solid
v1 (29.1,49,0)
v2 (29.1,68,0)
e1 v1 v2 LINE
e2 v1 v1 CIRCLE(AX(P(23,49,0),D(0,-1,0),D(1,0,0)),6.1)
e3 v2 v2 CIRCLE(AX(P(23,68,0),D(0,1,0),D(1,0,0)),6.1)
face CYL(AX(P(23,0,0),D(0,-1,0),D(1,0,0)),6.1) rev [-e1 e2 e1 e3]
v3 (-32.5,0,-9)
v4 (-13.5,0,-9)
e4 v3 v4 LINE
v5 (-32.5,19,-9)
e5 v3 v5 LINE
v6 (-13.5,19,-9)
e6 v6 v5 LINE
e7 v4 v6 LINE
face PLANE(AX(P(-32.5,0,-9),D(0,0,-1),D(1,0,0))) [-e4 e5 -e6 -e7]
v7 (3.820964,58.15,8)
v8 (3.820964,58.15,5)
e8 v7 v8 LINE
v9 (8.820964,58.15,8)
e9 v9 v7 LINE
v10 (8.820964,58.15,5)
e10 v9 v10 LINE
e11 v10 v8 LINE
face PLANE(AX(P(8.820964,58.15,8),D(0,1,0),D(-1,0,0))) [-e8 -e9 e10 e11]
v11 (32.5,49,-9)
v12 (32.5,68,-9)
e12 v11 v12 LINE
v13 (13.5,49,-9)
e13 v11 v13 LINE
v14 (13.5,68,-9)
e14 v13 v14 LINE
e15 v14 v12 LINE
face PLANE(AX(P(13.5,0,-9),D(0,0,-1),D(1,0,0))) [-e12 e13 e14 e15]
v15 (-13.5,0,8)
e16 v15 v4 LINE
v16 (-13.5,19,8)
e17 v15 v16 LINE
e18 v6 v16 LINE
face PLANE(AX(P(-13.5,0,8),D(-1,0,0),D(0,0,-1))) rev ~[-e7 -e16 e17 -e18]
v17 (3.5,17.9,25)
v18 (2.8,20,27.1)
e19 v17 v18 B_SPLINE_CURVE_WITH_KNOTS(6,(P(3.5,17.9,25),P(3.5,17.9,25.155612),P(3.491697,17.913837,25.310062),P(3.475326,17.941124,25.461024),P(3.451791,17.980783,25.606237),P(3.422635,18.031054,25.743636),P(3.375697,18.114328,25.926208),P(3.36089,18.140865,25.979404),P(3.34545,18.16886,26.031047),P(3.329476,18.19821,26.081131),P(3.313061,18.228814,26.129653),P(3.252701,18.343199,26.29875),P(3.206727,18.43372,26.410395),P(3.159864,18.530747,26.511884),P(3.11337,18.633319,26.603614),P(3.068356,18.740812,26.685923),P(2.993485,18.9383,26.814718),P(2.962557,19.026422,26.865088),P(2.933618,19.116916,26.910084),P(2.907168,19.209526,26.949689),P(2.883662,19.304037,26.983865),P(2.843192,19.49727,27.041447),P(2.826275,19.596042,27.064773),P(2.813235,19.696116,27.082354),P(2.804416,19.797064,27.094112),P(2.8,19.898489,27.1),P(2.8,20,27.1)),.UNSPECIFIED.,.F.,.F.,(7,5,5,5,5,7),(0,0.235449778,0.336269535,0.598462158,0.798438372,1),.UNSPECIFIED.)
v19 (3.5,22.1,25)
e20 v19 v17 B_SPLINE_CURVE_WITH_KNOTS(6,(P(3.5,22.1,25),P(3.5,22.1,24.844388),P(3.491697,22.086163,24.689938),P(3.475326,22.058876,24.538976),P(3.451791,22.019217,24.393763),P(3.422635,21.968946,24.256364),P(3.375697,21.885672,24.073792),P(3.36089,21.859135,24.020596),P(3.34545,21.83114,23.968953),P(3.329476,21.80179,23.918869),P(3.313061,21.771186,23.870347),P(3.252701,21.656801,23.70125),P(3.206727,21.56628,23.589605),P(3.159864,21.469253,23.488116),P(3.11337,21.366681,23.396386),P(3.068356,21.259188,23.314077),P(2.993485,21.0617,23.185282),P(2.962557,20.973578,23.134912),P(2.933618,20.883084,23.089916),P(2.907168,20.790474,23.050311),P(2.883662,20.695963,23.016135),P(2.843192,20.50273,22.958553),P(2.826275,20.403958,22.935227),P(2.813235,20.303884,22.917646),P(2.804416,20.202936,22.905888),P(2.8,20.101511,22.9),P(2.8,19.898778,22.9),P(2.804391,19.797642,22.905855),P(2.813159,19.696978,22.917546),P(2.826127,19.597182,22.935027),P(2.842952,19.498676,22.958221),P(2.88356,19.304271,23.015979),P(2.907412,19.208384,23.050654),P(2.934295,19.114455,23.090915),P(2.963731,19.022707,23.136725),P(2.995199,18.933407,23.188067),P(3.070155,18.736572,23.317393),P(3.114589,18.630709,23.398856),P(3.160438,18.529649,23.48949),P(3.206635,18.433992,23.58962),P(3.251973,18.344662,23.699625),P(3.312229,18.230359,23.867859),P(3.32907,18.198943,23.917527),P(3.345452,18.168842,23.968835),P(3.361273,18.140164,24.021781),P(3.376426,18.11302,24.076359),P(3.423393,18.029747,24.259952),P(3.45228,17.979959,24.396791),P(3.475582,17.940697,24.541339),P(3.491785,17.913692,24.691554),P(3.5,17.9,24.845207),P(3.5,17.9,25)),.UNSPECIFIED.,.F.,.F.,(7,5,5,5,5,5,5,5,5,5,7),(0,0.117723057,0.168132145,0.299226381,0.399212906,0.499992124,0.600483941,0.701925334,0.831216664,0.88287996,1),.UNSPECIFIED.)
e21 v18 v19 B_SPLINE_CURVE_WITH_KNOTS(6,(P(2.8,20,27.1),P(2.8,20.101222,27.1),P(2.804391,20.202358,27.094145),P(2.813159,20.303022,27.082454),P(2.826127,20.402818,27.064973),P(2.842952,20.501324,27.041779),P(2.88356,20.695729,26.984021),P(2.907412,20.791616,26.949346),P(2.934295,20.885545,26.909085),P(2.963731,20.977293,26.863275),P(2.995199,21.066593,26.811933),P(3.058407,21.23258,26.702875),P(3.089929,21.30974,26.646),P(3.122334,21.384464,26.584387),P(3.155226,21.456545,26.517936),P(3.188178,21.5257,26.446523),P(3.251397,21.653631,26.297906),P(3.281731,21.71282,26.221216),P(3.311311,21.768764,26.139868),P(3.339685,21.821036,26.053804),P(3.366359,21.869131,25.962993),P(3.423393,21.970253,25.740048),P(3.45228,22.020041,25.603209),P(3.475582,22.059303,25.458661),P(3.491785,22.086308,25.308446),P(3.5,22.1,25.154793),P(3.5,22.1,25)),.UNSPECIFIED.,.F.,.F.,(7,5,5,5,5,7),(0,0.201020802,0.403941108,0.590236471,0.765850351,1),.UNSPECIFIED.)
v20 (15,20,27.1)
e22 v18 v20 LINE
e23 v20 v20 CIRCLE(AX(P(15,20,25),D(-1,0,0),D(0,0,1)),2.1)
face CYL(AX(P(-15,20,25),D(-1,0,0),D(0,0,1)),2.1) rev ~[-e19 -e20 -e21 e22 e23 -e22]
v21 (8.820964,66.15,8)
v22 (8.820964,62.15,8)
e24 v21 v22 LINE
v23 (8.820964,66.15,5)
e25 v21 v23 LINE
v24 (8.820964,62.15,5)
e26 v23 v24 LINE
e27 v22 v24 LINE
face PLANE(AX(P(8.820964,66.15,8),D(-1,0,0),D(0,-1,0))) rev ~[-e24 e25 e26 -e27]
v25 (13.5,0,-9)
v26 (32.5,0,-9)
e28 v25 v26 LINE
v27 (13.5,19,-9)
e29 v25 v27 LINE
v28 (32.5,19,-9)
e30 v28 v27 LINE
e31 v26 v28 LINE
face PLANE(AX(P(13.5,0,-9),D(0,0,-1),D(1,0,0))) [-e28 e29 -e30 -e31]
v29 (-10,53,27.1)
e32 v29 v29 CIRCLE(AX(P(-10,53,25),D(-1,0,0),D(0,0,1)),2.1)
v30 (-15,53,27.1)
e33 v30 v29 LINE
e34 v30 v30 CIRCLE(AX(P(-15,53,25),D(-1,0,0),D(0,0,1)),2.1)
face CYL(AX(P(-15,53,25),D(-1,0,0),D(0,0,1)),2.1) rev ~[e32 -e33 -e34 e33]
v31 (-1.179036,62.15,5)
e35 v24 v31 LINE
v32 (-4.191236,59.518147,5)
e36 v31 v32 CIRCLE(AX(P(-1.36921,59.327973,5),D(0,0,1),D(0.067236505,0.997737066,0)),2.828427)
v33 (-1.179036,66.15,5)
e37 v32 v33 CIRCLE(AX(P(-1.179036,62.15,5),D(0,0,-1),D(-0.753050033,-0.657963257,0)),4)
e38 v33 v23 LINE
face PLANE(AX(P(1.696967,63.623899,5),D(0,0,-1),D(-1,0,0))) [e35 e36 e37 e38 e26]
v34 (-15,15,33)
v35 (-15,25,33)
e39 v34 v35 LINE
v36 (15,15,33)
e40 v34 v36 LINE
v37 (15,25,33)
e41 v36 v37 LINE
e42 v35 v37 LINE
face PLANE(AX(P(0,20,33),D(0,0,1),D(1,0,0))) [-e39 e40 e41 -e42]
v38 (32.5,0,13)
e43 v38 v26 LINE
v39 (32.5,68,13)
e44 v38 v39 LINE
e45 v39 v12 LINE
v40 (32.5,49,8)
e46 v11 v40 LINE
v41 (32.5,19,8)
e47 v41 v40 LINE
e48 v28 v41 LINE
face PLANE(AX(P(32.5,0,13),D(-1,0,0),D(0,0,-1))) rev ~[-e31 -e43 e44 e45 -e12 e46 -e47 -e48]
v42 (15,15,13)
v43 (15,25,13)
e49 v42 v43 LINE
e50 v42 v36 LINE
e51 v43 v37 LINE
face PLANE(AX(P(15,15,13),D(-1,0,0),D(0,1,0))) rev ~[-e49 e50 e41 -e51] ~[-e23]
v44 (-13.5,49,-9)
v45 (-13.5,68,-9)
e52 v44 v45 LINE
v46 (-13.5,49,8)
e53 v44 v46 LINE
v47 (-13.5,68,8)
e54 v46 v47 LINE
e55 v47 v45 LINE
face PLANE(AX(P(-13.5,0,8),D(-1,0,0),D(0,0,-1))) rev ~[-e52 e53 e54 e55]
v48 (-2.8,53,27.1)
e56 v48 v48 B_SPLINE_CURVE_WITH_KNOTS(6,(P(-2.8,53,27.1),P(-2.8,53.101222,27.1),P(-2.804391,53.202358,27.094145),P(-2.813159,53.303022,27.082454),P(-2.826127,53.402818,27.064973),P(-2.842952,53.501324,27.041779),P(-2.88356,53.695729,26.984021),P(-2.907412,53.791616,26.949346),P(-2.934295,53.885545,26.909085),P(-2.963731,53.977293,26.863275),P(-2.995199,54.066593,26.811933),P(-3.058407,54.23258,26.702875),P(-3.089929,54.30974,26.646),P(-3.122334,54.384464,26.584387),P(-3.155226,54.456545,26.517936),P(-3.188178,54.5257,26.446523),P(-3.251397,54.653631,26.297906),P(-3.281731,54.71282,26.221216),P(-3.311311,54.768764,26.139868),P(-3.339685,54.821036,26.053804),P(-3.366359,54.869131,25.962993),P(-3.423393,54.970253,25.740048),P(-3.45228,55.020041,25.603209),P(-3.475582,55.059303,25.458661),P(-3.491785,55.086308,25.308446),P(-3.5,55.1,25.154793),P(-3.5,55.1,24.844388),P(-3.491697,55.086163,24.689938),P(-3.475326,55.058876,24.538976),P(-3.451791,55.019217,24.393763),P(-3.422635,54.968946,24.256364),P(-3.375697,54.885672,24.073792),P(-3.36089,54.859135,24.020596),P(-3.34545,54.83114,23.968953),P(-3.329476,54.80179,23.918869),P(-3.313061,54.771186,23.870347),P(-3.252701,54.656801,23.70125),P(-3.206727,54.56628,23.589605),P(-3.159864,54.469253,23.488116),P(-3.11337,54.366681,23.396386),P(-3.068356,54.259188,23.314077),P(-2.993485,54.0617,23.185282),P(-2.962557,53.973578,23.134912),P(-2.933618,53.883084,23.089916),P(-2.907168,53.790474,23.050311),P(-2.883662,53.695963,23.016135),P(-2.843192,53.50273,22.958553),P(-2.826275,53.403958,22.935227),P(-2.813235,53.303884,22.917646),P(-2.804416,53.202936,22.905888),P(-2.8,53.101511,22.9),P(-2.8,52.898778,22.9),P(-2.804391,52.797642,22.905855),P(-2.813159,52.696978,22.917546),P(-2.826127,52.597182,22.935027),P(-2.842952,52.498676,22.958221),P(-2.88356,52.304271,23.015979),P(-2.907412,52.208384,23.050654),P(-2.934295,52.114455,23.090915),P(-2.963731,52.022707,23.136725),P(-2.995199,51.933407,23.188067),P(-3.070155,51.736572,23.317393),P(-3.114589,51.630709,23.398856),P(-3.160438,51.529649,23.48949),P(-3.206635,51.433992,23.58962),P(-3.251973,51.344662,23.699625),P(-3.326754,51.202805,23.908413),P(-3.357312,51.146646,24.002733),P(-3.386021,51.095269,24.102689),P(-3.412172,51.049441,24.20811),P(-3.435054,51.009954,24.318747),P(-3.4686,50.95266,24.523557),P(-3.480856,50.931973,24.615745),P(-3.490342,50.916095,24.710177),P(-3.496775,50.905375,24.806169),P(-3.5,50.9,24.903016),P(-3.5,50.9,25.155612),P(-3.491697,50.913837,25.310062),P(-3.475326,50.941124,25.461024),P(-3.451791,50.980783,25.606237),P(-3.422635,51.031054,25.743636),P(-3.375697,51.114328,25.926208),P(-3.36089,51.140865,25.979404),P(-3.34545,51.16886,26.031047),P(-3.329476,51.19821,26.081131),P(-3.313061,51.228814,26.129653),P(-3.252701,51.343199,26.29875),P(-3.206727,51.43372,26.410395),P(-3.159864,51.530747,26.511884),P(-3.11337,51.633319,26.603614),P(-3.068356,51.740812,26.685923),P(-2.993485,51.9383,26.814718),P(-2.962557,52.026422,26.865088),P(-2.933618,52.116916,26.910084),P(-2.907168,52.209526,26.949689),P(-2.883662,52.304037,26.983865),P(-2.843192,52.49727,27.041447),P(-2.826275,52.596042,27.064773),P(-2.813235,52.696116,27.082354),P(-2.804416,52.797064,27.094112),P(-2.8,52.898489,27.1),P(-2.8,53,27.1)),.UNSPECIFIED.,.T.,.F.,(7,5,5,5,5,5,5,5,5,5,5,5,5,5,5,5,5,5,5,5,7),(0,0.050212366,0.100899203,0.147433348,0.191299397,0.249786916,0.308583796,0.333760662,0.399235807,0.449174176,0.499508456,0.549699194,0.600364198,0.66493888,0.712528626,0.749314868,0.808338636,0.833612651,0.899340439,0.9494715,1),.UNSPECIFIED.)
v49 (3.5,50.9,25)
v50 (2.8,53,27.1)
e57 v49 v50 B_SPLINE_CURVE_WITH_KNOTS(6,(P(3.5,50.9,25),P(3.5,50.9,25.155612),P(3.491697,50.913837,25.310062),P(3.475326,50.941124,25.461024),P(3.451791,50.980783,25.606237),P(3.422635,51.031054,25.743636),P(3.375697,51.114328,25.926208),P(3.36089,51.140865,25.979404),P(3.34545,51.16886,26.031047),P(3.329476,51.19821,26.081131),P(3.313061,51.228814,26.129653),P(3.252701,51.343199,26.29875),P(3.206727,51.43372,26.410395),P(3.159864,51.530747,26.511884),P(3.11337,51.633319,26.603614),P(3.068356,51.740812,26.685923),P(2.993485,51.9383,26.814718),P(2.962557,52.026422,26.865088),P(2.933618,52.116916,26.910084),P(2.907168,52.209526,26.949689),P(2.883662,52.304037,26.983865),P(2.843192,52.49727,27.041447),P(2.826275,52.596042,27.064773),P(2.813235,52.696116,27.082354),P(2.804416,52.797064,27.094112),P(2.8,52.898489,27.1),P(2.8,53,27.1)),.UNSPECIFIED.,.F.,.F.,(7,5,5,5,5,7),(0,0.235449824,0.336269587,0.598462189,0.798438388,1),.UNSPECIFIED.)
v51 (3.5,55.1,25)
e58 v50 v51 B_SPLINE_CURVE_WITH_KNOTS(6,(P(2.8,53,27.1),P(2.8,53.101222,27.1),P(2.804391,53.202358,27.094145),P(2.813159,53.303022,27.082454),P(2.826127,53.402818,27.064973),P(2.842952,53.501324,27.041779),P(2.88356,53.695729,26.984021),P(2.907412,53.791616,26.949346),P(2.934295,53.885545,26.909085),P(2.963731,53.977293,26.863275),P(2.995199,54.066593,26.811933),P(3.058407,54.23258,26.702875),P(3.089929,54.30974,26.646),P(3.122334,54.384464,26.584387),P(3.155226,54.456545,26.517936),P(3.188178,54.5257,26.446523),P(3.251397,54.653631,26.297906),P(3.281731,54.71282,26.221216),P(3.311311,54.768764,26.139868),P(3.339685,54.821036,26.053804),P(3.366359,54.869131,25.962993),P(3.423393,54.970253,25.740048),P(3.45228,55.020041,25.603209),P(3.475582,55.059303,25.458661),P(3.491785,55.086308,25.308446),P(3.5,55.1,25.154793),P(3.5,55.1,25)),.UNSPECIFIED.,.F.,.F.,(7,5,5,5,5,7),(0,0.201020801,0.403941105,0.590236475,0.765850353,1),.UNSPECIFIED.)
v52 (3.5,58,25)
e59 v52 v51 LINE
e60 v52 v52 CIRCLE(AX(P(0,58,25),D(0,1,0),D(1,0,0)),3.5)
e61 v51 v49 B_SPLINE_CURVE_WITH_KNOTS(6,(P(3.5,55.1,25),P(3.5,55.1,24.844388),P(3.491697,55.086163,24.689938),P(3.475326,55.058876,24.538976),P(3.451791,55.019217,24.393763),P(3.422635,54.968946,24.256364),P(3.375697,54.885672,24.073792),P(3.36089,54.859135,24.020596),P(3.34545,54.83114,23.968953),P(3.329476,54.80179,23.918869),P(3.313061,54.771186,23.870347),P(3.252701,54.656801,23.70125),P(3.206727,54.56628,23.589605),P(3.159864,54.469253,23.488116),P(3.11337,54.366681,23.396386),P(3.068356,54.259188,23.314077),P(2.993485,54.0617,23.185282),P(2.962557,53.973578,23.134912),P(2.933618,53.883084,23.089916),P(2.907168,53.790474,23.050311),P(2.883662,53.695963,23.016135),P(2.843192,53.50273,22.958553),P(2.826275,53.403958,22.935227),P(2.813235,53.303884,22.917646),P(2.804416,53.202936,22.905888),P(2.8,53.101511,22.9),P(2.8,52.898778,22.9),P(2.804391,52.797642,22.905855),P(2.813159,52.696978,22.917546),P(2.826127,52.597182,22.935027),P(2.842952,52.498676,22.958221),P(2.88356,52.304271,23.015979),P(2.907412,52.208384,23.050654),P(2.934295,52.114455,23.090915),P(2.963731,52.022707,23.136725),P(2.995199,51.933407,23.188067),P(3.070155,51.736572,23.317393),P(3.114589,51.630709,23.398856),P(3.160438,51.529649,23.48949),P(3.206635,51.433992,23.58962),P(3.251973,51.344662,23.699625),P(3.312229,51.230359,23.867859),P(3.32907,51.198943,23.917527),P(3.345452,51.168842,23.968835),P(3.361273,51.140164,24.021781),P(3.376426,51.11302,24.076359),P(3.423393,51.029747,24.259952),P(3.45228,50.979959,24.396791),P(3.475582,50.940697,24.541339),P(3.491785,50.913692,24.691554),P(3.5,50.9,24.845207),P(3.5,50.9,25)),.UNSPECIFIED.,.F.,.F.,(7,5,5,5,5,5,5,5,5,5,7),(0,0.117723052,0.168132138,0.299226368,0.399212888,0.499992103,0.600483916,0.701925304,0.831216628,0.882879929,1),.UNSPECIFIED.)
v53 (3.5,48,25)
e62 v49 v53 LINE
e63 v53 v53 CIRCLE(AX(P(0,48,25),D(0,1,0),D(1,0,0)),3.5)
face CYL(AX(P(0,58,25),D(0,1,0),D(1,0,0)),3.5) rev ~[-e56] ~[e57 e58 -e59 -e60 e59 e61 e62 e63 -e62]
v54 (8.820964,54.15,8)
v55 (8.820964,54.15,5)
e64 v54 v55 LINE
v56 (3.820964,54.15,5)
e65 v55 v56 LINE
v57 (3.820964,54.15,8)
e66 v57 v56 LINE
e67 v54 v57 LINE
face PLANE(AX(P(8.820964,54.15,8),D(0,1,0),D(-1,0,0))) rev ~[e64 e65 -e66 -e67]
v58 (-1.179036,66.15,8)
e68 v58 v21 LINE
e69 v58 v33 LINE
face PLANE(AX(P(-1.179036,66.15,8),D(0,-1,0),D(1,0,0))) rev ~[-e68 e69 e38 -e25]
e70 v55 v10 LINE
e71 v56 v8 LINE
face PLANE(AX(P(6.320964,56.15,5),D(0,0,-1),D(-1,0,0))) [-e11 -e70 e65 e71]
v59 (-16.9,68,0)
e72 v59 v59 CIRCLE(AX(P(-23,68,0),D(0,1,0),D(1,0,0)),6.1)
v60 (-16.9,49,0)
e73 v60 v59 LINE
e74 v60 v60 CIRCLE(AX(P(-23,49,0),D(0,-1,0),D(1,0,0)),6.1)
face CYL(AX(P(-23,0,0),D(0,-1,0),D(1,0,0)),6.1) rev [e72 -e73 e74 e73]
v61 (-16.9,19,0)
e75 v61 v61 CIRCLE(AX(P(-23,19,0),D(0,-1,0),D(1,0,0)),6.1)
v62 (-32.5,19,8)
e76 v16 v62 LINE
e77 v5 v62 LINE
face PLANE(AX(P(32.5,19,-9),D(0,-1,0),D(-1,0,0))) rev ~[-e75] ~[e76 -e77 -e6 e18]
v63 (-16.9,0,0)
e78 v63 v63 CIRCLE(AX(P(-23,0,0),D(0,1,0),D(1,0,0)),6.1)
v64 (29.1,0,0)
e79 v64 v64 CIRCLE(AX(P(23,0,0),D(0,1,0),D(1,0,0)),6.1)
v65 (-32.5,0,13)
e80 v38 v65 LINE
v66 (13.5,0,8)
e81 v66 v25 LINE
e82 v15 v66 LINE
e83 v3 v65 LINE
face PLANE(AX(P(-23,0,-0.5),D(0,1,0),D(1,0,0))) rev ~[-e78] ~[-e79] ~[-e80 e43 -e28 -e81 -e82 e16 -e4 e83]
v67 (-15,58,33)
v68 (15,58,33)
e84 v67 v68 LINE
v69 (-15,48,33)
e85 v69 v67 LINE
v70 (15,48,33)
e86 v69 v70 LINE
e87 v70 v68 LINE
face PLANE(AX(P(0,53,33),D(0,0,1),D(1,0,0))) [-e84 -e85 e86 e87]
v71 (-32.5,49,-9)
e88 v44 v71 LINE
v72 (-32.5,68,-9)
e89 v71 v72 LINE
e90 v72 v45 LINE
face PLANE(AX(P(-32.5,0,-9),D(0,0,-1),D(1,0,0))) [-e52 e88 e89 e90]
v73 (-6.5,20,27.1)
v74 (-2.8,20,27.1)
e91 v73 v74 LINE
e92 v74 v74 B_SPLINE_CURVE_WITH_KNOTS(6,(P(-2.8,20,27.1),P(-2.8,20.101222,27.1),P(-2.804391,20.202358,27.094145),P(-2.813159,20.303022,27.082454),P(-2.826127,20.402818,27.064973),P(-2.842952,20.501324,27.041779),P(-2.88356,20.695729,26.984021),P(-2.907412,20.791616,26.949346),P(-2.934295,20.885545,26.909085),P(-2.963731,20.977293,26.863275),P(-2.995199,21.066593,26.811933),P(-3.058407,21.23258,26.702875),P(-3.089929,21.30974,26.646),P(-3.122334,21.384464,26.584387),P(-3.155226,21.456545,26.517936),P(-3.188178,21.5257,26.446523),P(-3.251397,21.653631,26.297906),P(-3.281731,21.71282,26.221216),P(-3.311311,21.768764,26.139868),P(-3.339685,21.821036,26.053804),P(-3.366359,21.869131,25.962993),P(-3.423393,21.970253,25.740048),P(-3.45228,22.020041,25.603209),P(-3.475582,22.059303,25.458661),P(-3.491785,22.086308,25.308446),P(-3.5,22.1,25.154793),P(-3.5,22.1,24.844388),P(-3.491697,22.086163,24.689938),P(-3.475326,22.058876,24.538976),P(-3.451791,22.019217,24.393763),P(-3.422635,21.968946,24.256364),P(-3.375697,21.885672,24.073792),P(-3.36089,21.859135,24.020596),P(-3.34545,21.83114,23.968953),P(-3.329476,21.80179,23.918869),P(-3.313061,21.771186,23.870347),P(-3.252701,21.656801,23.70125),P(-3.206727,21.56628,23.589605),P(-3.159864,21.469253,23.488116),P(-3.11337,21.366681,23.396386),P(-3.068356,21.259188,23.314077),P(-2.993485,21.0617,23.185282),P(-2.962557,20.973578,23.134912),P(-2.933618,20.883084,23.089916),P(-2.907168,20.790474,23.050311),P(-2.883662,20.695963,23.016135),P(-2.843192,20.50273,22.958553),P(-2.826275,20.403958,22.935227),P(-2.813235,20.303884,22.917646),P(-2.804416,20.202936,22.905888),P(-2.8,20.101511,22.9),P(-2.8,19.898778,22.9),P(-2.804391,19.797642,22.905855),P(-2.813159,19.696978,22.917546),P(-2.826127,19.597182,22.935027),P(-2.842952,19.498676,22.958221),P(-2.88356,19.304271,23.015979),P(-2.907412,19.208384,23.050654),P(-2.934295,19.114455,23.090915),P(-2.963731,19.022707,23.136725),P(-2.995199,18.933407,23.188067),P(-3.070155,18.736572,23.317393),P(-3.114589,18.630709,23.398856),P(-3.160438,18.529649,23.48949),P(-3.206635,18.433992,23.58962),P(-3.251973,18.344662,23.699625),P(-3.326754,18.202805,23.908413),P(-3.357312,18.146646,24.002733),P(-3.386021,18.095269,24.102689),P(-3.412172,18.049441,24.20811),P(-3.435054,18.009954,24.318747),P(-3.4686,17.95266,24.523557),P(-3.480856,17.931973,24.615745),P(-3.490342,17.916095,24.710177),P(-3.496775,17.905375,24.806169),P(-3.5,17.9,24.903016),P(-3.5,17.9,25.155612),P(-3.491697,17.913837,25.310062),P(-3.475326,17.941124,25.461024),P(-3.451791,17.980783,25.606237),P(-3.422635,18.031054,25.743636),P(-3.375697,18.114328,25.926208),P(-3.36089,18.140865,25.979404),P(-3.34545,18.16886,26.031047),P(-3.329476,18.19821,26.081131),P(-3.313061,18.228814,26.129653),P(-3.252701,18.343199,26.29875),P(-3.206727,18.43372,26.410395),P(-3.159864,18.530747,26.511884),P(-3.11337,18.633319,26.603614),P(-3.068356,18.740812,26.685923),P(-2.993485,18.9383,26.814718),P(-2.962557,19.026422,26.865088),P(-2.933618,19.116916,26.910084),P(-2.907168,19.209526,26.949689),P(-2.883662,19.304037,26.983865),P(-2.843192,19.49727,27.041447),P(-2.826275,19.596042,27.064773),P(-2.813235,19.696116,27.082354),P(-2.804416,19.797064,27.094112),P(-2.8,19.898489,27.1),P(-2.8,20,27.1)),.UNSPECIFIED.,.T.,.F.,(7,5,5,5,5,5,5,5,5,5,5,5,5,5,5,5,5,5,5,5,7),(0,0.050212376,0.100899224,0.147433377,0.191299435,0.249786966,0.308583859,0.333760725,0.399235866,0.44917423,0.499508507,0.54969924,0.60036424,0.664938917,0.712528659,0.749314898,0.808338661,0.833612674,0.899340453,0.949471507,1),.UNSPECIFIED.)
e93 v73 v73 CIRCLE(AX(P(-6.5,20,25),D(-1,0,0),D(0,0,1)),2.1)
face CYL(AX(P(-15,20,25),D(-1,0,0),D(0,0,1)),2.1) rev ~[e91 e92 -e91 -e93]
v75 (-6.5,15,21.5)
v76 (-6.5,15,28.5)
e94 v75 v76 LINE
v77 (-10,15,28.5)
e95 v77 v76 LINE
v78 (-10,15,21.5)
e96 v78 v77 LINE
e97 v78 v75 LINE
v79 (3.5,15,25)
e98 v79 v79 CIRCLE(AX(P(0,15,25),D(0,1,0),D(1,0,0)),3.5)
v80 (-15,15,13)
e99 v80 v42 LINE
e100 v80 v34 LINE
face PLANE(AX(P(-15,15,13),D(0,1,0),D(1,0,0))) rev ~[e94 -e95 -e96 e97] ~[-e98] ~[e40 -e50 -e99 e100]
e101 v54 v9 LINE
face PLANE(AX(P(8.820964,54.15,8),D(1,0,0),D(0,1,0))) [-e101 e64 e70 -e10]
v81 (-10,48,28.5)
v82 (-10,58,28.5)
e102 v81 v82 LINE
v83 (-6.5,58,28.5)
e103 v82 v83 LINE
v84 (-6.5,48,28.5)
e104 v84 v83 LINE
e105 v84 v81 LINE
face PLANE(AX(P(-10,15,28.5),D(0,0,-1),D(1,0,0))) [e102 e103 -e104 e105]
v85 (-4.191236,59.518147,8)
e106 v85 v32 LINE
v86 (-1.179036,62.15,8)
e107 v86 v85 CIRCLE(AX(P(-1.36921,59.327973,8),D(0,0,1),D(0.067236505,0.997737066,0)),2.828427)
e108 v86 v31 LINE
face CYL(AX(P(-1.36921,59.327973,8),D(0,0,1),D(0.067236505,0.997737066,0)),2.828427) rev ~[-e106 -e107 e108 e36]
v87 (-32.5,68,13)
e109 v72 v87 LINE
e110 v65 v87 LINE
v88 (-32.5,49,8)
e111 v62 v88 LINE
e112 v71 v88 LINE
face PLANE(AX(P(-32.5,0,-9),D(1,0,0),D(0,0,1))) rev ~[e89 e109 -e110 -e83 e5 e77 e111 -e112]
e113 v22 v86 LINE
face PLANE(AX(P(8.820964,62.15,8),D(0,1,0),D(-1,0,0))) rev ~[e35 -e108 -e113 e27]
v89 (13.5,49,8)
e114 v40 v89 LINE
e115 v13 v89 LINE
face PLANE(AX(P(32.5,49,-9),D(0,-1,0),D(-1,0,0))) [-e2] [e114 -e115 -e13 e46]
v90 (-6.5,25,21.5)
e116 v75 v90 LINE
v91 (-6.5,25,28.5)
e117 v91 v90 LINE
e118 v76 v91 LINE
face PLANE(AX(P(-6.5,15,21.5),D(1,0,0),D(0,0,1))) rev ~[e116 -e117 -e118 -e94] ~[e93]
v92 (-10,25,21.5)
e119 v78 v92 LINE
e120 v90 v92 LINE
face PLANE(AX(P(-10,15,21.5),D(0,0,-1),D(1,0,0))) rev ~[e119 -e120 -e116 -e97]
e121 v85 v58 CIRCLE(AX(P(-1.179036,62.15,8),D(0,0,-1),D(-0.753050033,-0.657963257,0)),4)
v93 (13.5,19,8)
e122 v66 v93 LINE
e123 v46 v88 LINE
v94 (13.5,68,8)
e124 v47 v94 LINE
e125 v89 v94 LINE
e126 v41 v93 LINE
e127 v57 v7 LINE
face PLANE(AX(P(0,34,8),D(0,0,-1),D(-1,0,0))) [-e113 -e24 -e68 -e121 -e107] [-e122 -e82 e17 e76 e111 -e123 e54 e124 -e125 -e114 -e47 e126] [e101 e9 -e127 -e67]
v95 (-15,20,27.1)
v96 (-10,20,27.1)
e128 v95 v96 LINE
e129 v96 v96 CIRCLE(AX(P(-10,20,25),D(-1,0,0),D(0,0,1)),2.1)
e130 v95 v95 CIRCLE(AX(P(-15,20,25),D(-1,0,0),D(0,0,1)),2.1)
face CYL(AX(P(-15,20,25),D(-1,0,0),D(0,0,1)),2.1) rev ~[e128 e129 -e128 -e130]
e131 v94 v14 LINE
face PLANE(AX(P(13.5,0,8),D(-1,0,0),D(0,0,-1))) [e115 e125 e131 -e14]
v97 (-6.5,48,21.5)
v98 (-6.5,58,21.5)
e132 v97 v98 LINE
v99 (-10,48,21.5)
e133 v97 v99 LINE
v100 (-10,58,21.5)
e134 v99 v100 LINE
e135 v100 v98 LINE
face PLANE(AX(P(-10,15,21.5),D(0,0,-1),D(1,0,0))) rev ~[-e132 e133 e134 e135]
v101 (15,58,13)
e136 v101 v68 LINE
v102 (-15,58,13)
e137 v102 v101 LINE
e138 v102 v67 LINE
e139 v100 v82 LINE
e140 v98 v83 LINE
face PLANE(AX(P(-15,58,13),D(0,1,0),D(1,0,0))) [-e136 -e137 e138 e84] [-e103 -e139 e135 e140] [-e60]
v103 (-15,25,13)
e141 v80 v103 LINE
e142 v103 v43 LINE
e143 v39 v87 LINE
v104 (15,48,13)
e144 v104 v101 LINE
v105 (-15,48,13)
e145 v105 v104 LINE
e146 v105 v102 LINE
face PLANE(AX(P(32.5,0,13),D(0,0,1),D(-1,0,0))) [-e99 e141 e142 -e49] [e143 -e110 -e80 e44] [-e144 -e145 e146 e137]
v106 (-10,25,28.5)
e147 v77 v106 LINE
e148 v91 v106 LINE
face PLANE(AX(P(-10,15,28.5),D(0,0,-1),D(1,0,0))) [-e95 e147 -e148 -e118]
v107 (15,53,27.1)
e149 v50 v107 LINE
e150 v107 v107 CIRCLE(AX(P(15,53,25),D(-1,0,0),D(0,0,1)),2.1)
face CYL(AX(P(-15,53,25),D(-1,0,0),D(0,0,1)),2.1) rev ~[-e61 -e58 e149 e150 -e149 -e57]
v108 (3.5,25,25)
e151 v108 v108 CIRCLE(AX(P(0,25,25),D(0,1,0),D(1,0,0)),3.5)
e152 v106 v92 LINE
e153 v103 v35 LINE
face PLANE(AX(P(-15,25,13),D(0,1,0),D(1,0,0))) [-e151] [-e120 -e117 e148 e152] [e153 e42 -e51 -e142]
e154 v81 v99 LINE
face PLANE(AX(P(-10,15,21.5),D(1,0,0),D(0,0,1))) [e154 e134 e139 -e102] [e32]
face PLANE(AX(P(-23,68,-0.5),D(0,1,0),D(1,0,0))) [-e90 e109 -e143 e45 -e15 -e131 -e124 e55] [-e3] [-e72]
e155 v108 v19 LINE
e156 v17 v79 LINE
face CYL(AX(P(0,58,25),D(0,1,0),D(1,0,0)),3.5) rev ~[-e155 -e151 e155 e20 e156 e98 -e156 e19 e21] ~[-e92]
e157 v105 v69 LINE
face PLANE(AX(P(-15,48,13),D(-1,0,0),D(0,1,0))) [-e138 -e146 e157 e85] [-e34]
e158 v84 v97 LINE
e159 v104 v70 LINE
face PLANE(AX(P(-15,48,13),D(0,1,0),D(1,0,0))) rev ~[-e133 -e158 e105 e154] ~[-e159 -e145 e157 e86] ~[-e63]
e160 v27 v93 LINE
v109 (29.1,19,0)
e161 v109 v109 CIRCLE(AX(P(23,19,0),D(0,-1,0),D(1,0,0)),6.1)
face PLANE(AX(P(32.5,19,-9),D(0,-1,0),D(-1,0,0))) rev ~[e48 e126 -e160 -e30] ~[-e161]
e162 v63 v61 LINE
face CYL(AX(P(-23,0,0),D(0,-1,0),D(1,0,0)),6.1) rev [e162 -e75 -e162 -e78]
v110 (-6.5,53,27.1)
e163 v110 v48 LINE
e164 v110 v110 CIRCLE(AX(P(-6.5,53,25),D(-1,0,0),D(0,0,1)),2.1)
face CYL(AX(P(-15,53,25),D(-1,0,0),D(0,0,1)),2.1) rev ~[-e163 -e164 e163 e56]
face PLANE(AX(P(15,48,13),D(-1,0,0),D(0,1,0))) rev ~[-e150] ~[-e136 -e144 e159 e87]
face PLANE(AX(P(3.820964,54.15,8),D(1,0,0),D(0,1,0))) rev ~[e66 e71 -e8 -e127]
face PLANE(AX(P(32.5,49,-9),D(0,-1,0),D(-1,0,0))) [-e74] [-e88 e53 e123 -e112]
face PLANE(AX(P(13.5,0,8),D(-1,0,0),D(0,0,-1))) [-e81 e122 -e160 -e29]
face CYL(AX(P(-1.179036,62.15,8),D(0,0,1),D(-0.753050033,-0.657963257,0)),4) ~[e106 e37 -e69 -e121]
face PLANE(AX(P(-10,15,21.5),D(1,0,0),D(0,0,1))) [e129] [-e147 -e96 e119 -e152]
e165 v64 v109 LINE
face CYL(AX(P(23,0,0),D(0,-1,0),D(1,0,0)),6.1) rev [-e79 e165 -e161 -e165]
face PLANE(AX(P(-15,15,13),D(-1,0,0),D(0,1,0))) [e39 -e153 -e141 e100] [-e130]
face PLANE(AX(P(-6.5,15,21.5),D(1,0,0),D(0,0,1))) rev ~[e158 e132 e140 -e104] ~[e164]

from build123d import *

# Parameters (mm, degrees)
SKETCH1_W           = 19
SKETCH1_H           = 17
SKETCH1_R           = 6.1
BOSS_EXTRUDE1_DEPTH = 68
SKETCH3_W           = 65
SKETCH3_H           = 30
CUT_EXTRUDE1_DEPTH  = 17
SKETCH4_W           = 5
SKETCH4_H           = 4
BOSS_EXTRUDE2_DEPTH = 3
SKETCH5_W           = 30
SKETCH5_H           = 10
BOSS_EXTRUDE3_DEPTH = 20
SKETCH6_R           = 3.5
CUT_EXTRUDE2_DEPTH  = 59
SKETCH8_R           = 2.1
CUT_EXTRUDE3_DEPTH  = 48.5
SKETCH9_W           = 3.5
SKETCH9_H           = 7
CUT_EXTRUDE4_DEPTH  = 43


with BuildPart() as part:
    # Sketch1 → Boss-Extrude1 (new body)
    with BuildSketch(Plane(origin=(0, 0, 0), x_dir=(1, 0, 0), z_dir=(0, 1, 0))):
        with Locations((-23, 0.5)):
            Rectangle(SKETCH1_W, SKETCH1_H)
        with Locations((-23, 0)):
            Circle(SKETCH1_R, mode=Mode.SUBTRACT)
        with Locations((23, 0.5)):
            Rectangle(SKETCH1_W, SKETCH1_H)
        with Locations((23, 0)):
            Circle(SKETCH1_R, mode=Mode.SUBTRACT)
        Polygon((-13.5, -8), (13.5, -8), (32.5, -8), (32.5, -13), (-32.5, -13), (-32.5, -8), align=None)
    extrude(amount=BOSS_EXTRUDE1_DEPTH)

    # Sketch3 → Cut-Extrude1 (cut)
    with BuildSketch(Plane(origin=(0, 0, -9), x_dir=(-1, 0, 0), z_dir=(0, 0, -1))):
        with Locations((0, 34)):
            Rectangle(SKETCH3_W, SKETCH3_H)
    extrude(amount=-CUT_EXTRUDE1_DEPTH, mode=Mode.SUBTRACT)

    # Sketch4 → Boss-Extrude2 (add)
    with BuildSketch(Plane(origin=(0, 0, 8), x_dir=(-1, 0, 0), z_dir=(0, 0, -1))):
        with BuildLine():
            ThreePointArc((4.191236083, 59.518146972), (4.82097308, 63.804174702), (1.17903595, 66.15))
            Line((1.17903595, 66.15), (-8.82096405, 66.15))
            Line((-8.82096405, 66.15), (-8.82096405, 62.15))
            Line((-8.82096405, 62.15), (1.17903595, 62.15))
            ThreePointArc((1.17903595, 62.15), (3.230210626, 61.45792056), (4.191236083, 59.518146972))
        make_face()
        with Locations((-6.32096405, 56.15)):
            Rectangle(SKETCH4_W, SKETCH4_H)
    extrude(amount=BOSS_EXTRUDE2_DEPTH)

    # Sketch5 → Boss-Extrude3 (add)
    with BuildSketch(Plane.XY.offset(13)):
        with Locations((0, 20)):
            Rectangle(SKETCH5_W, SKETCH5_H)
        with Locations((0, 53)):
            Rectangle(SKETCH5_W, SKETCH5_H)
    extrude(amount=BOSS_EXTRUDE3_DEPTH)

    # Sketch6 → Cut-Extrude2 (cut, through all)
    with BuildSketch(Plane(origin=(0, 58, 0), x_dir=(1, 0, 0), z_dir=(0, 1, 0))):
        with Locations((0, -25)):
            Circle(SKETCH6_R)
    extrude(amount=-CUT_EXTRUDE2_DEPTH, mode=Mode.SUBTRACT)

    # Sketch8 → Cut-Extrude3 (cut, through all)
    with BuildSketch(Plane.ZY.offset(15)):
        with Locations((25, 20)):
            Circle(SKETCH8_R)
        with Locations((25, 53)):
            Circle(SKETCH8_R)
    extrude(amount=-CUT_EXTRUDE3_DEPTH, mode=Mode.SUBTRACT)

    # Sketch9 → Cut-Extrude4 (cut)
    with BuildSketch(Plane.XZ.offset(-15)):
        with Locations((-8.25, 25)):
            Rectangle(SKETCH9_W, SKETCH9_H)
    extrude(amount=-CUT_EXTRUDE4_DEPTH, mode=Mode.SUBTRACT)


solid = part.part
